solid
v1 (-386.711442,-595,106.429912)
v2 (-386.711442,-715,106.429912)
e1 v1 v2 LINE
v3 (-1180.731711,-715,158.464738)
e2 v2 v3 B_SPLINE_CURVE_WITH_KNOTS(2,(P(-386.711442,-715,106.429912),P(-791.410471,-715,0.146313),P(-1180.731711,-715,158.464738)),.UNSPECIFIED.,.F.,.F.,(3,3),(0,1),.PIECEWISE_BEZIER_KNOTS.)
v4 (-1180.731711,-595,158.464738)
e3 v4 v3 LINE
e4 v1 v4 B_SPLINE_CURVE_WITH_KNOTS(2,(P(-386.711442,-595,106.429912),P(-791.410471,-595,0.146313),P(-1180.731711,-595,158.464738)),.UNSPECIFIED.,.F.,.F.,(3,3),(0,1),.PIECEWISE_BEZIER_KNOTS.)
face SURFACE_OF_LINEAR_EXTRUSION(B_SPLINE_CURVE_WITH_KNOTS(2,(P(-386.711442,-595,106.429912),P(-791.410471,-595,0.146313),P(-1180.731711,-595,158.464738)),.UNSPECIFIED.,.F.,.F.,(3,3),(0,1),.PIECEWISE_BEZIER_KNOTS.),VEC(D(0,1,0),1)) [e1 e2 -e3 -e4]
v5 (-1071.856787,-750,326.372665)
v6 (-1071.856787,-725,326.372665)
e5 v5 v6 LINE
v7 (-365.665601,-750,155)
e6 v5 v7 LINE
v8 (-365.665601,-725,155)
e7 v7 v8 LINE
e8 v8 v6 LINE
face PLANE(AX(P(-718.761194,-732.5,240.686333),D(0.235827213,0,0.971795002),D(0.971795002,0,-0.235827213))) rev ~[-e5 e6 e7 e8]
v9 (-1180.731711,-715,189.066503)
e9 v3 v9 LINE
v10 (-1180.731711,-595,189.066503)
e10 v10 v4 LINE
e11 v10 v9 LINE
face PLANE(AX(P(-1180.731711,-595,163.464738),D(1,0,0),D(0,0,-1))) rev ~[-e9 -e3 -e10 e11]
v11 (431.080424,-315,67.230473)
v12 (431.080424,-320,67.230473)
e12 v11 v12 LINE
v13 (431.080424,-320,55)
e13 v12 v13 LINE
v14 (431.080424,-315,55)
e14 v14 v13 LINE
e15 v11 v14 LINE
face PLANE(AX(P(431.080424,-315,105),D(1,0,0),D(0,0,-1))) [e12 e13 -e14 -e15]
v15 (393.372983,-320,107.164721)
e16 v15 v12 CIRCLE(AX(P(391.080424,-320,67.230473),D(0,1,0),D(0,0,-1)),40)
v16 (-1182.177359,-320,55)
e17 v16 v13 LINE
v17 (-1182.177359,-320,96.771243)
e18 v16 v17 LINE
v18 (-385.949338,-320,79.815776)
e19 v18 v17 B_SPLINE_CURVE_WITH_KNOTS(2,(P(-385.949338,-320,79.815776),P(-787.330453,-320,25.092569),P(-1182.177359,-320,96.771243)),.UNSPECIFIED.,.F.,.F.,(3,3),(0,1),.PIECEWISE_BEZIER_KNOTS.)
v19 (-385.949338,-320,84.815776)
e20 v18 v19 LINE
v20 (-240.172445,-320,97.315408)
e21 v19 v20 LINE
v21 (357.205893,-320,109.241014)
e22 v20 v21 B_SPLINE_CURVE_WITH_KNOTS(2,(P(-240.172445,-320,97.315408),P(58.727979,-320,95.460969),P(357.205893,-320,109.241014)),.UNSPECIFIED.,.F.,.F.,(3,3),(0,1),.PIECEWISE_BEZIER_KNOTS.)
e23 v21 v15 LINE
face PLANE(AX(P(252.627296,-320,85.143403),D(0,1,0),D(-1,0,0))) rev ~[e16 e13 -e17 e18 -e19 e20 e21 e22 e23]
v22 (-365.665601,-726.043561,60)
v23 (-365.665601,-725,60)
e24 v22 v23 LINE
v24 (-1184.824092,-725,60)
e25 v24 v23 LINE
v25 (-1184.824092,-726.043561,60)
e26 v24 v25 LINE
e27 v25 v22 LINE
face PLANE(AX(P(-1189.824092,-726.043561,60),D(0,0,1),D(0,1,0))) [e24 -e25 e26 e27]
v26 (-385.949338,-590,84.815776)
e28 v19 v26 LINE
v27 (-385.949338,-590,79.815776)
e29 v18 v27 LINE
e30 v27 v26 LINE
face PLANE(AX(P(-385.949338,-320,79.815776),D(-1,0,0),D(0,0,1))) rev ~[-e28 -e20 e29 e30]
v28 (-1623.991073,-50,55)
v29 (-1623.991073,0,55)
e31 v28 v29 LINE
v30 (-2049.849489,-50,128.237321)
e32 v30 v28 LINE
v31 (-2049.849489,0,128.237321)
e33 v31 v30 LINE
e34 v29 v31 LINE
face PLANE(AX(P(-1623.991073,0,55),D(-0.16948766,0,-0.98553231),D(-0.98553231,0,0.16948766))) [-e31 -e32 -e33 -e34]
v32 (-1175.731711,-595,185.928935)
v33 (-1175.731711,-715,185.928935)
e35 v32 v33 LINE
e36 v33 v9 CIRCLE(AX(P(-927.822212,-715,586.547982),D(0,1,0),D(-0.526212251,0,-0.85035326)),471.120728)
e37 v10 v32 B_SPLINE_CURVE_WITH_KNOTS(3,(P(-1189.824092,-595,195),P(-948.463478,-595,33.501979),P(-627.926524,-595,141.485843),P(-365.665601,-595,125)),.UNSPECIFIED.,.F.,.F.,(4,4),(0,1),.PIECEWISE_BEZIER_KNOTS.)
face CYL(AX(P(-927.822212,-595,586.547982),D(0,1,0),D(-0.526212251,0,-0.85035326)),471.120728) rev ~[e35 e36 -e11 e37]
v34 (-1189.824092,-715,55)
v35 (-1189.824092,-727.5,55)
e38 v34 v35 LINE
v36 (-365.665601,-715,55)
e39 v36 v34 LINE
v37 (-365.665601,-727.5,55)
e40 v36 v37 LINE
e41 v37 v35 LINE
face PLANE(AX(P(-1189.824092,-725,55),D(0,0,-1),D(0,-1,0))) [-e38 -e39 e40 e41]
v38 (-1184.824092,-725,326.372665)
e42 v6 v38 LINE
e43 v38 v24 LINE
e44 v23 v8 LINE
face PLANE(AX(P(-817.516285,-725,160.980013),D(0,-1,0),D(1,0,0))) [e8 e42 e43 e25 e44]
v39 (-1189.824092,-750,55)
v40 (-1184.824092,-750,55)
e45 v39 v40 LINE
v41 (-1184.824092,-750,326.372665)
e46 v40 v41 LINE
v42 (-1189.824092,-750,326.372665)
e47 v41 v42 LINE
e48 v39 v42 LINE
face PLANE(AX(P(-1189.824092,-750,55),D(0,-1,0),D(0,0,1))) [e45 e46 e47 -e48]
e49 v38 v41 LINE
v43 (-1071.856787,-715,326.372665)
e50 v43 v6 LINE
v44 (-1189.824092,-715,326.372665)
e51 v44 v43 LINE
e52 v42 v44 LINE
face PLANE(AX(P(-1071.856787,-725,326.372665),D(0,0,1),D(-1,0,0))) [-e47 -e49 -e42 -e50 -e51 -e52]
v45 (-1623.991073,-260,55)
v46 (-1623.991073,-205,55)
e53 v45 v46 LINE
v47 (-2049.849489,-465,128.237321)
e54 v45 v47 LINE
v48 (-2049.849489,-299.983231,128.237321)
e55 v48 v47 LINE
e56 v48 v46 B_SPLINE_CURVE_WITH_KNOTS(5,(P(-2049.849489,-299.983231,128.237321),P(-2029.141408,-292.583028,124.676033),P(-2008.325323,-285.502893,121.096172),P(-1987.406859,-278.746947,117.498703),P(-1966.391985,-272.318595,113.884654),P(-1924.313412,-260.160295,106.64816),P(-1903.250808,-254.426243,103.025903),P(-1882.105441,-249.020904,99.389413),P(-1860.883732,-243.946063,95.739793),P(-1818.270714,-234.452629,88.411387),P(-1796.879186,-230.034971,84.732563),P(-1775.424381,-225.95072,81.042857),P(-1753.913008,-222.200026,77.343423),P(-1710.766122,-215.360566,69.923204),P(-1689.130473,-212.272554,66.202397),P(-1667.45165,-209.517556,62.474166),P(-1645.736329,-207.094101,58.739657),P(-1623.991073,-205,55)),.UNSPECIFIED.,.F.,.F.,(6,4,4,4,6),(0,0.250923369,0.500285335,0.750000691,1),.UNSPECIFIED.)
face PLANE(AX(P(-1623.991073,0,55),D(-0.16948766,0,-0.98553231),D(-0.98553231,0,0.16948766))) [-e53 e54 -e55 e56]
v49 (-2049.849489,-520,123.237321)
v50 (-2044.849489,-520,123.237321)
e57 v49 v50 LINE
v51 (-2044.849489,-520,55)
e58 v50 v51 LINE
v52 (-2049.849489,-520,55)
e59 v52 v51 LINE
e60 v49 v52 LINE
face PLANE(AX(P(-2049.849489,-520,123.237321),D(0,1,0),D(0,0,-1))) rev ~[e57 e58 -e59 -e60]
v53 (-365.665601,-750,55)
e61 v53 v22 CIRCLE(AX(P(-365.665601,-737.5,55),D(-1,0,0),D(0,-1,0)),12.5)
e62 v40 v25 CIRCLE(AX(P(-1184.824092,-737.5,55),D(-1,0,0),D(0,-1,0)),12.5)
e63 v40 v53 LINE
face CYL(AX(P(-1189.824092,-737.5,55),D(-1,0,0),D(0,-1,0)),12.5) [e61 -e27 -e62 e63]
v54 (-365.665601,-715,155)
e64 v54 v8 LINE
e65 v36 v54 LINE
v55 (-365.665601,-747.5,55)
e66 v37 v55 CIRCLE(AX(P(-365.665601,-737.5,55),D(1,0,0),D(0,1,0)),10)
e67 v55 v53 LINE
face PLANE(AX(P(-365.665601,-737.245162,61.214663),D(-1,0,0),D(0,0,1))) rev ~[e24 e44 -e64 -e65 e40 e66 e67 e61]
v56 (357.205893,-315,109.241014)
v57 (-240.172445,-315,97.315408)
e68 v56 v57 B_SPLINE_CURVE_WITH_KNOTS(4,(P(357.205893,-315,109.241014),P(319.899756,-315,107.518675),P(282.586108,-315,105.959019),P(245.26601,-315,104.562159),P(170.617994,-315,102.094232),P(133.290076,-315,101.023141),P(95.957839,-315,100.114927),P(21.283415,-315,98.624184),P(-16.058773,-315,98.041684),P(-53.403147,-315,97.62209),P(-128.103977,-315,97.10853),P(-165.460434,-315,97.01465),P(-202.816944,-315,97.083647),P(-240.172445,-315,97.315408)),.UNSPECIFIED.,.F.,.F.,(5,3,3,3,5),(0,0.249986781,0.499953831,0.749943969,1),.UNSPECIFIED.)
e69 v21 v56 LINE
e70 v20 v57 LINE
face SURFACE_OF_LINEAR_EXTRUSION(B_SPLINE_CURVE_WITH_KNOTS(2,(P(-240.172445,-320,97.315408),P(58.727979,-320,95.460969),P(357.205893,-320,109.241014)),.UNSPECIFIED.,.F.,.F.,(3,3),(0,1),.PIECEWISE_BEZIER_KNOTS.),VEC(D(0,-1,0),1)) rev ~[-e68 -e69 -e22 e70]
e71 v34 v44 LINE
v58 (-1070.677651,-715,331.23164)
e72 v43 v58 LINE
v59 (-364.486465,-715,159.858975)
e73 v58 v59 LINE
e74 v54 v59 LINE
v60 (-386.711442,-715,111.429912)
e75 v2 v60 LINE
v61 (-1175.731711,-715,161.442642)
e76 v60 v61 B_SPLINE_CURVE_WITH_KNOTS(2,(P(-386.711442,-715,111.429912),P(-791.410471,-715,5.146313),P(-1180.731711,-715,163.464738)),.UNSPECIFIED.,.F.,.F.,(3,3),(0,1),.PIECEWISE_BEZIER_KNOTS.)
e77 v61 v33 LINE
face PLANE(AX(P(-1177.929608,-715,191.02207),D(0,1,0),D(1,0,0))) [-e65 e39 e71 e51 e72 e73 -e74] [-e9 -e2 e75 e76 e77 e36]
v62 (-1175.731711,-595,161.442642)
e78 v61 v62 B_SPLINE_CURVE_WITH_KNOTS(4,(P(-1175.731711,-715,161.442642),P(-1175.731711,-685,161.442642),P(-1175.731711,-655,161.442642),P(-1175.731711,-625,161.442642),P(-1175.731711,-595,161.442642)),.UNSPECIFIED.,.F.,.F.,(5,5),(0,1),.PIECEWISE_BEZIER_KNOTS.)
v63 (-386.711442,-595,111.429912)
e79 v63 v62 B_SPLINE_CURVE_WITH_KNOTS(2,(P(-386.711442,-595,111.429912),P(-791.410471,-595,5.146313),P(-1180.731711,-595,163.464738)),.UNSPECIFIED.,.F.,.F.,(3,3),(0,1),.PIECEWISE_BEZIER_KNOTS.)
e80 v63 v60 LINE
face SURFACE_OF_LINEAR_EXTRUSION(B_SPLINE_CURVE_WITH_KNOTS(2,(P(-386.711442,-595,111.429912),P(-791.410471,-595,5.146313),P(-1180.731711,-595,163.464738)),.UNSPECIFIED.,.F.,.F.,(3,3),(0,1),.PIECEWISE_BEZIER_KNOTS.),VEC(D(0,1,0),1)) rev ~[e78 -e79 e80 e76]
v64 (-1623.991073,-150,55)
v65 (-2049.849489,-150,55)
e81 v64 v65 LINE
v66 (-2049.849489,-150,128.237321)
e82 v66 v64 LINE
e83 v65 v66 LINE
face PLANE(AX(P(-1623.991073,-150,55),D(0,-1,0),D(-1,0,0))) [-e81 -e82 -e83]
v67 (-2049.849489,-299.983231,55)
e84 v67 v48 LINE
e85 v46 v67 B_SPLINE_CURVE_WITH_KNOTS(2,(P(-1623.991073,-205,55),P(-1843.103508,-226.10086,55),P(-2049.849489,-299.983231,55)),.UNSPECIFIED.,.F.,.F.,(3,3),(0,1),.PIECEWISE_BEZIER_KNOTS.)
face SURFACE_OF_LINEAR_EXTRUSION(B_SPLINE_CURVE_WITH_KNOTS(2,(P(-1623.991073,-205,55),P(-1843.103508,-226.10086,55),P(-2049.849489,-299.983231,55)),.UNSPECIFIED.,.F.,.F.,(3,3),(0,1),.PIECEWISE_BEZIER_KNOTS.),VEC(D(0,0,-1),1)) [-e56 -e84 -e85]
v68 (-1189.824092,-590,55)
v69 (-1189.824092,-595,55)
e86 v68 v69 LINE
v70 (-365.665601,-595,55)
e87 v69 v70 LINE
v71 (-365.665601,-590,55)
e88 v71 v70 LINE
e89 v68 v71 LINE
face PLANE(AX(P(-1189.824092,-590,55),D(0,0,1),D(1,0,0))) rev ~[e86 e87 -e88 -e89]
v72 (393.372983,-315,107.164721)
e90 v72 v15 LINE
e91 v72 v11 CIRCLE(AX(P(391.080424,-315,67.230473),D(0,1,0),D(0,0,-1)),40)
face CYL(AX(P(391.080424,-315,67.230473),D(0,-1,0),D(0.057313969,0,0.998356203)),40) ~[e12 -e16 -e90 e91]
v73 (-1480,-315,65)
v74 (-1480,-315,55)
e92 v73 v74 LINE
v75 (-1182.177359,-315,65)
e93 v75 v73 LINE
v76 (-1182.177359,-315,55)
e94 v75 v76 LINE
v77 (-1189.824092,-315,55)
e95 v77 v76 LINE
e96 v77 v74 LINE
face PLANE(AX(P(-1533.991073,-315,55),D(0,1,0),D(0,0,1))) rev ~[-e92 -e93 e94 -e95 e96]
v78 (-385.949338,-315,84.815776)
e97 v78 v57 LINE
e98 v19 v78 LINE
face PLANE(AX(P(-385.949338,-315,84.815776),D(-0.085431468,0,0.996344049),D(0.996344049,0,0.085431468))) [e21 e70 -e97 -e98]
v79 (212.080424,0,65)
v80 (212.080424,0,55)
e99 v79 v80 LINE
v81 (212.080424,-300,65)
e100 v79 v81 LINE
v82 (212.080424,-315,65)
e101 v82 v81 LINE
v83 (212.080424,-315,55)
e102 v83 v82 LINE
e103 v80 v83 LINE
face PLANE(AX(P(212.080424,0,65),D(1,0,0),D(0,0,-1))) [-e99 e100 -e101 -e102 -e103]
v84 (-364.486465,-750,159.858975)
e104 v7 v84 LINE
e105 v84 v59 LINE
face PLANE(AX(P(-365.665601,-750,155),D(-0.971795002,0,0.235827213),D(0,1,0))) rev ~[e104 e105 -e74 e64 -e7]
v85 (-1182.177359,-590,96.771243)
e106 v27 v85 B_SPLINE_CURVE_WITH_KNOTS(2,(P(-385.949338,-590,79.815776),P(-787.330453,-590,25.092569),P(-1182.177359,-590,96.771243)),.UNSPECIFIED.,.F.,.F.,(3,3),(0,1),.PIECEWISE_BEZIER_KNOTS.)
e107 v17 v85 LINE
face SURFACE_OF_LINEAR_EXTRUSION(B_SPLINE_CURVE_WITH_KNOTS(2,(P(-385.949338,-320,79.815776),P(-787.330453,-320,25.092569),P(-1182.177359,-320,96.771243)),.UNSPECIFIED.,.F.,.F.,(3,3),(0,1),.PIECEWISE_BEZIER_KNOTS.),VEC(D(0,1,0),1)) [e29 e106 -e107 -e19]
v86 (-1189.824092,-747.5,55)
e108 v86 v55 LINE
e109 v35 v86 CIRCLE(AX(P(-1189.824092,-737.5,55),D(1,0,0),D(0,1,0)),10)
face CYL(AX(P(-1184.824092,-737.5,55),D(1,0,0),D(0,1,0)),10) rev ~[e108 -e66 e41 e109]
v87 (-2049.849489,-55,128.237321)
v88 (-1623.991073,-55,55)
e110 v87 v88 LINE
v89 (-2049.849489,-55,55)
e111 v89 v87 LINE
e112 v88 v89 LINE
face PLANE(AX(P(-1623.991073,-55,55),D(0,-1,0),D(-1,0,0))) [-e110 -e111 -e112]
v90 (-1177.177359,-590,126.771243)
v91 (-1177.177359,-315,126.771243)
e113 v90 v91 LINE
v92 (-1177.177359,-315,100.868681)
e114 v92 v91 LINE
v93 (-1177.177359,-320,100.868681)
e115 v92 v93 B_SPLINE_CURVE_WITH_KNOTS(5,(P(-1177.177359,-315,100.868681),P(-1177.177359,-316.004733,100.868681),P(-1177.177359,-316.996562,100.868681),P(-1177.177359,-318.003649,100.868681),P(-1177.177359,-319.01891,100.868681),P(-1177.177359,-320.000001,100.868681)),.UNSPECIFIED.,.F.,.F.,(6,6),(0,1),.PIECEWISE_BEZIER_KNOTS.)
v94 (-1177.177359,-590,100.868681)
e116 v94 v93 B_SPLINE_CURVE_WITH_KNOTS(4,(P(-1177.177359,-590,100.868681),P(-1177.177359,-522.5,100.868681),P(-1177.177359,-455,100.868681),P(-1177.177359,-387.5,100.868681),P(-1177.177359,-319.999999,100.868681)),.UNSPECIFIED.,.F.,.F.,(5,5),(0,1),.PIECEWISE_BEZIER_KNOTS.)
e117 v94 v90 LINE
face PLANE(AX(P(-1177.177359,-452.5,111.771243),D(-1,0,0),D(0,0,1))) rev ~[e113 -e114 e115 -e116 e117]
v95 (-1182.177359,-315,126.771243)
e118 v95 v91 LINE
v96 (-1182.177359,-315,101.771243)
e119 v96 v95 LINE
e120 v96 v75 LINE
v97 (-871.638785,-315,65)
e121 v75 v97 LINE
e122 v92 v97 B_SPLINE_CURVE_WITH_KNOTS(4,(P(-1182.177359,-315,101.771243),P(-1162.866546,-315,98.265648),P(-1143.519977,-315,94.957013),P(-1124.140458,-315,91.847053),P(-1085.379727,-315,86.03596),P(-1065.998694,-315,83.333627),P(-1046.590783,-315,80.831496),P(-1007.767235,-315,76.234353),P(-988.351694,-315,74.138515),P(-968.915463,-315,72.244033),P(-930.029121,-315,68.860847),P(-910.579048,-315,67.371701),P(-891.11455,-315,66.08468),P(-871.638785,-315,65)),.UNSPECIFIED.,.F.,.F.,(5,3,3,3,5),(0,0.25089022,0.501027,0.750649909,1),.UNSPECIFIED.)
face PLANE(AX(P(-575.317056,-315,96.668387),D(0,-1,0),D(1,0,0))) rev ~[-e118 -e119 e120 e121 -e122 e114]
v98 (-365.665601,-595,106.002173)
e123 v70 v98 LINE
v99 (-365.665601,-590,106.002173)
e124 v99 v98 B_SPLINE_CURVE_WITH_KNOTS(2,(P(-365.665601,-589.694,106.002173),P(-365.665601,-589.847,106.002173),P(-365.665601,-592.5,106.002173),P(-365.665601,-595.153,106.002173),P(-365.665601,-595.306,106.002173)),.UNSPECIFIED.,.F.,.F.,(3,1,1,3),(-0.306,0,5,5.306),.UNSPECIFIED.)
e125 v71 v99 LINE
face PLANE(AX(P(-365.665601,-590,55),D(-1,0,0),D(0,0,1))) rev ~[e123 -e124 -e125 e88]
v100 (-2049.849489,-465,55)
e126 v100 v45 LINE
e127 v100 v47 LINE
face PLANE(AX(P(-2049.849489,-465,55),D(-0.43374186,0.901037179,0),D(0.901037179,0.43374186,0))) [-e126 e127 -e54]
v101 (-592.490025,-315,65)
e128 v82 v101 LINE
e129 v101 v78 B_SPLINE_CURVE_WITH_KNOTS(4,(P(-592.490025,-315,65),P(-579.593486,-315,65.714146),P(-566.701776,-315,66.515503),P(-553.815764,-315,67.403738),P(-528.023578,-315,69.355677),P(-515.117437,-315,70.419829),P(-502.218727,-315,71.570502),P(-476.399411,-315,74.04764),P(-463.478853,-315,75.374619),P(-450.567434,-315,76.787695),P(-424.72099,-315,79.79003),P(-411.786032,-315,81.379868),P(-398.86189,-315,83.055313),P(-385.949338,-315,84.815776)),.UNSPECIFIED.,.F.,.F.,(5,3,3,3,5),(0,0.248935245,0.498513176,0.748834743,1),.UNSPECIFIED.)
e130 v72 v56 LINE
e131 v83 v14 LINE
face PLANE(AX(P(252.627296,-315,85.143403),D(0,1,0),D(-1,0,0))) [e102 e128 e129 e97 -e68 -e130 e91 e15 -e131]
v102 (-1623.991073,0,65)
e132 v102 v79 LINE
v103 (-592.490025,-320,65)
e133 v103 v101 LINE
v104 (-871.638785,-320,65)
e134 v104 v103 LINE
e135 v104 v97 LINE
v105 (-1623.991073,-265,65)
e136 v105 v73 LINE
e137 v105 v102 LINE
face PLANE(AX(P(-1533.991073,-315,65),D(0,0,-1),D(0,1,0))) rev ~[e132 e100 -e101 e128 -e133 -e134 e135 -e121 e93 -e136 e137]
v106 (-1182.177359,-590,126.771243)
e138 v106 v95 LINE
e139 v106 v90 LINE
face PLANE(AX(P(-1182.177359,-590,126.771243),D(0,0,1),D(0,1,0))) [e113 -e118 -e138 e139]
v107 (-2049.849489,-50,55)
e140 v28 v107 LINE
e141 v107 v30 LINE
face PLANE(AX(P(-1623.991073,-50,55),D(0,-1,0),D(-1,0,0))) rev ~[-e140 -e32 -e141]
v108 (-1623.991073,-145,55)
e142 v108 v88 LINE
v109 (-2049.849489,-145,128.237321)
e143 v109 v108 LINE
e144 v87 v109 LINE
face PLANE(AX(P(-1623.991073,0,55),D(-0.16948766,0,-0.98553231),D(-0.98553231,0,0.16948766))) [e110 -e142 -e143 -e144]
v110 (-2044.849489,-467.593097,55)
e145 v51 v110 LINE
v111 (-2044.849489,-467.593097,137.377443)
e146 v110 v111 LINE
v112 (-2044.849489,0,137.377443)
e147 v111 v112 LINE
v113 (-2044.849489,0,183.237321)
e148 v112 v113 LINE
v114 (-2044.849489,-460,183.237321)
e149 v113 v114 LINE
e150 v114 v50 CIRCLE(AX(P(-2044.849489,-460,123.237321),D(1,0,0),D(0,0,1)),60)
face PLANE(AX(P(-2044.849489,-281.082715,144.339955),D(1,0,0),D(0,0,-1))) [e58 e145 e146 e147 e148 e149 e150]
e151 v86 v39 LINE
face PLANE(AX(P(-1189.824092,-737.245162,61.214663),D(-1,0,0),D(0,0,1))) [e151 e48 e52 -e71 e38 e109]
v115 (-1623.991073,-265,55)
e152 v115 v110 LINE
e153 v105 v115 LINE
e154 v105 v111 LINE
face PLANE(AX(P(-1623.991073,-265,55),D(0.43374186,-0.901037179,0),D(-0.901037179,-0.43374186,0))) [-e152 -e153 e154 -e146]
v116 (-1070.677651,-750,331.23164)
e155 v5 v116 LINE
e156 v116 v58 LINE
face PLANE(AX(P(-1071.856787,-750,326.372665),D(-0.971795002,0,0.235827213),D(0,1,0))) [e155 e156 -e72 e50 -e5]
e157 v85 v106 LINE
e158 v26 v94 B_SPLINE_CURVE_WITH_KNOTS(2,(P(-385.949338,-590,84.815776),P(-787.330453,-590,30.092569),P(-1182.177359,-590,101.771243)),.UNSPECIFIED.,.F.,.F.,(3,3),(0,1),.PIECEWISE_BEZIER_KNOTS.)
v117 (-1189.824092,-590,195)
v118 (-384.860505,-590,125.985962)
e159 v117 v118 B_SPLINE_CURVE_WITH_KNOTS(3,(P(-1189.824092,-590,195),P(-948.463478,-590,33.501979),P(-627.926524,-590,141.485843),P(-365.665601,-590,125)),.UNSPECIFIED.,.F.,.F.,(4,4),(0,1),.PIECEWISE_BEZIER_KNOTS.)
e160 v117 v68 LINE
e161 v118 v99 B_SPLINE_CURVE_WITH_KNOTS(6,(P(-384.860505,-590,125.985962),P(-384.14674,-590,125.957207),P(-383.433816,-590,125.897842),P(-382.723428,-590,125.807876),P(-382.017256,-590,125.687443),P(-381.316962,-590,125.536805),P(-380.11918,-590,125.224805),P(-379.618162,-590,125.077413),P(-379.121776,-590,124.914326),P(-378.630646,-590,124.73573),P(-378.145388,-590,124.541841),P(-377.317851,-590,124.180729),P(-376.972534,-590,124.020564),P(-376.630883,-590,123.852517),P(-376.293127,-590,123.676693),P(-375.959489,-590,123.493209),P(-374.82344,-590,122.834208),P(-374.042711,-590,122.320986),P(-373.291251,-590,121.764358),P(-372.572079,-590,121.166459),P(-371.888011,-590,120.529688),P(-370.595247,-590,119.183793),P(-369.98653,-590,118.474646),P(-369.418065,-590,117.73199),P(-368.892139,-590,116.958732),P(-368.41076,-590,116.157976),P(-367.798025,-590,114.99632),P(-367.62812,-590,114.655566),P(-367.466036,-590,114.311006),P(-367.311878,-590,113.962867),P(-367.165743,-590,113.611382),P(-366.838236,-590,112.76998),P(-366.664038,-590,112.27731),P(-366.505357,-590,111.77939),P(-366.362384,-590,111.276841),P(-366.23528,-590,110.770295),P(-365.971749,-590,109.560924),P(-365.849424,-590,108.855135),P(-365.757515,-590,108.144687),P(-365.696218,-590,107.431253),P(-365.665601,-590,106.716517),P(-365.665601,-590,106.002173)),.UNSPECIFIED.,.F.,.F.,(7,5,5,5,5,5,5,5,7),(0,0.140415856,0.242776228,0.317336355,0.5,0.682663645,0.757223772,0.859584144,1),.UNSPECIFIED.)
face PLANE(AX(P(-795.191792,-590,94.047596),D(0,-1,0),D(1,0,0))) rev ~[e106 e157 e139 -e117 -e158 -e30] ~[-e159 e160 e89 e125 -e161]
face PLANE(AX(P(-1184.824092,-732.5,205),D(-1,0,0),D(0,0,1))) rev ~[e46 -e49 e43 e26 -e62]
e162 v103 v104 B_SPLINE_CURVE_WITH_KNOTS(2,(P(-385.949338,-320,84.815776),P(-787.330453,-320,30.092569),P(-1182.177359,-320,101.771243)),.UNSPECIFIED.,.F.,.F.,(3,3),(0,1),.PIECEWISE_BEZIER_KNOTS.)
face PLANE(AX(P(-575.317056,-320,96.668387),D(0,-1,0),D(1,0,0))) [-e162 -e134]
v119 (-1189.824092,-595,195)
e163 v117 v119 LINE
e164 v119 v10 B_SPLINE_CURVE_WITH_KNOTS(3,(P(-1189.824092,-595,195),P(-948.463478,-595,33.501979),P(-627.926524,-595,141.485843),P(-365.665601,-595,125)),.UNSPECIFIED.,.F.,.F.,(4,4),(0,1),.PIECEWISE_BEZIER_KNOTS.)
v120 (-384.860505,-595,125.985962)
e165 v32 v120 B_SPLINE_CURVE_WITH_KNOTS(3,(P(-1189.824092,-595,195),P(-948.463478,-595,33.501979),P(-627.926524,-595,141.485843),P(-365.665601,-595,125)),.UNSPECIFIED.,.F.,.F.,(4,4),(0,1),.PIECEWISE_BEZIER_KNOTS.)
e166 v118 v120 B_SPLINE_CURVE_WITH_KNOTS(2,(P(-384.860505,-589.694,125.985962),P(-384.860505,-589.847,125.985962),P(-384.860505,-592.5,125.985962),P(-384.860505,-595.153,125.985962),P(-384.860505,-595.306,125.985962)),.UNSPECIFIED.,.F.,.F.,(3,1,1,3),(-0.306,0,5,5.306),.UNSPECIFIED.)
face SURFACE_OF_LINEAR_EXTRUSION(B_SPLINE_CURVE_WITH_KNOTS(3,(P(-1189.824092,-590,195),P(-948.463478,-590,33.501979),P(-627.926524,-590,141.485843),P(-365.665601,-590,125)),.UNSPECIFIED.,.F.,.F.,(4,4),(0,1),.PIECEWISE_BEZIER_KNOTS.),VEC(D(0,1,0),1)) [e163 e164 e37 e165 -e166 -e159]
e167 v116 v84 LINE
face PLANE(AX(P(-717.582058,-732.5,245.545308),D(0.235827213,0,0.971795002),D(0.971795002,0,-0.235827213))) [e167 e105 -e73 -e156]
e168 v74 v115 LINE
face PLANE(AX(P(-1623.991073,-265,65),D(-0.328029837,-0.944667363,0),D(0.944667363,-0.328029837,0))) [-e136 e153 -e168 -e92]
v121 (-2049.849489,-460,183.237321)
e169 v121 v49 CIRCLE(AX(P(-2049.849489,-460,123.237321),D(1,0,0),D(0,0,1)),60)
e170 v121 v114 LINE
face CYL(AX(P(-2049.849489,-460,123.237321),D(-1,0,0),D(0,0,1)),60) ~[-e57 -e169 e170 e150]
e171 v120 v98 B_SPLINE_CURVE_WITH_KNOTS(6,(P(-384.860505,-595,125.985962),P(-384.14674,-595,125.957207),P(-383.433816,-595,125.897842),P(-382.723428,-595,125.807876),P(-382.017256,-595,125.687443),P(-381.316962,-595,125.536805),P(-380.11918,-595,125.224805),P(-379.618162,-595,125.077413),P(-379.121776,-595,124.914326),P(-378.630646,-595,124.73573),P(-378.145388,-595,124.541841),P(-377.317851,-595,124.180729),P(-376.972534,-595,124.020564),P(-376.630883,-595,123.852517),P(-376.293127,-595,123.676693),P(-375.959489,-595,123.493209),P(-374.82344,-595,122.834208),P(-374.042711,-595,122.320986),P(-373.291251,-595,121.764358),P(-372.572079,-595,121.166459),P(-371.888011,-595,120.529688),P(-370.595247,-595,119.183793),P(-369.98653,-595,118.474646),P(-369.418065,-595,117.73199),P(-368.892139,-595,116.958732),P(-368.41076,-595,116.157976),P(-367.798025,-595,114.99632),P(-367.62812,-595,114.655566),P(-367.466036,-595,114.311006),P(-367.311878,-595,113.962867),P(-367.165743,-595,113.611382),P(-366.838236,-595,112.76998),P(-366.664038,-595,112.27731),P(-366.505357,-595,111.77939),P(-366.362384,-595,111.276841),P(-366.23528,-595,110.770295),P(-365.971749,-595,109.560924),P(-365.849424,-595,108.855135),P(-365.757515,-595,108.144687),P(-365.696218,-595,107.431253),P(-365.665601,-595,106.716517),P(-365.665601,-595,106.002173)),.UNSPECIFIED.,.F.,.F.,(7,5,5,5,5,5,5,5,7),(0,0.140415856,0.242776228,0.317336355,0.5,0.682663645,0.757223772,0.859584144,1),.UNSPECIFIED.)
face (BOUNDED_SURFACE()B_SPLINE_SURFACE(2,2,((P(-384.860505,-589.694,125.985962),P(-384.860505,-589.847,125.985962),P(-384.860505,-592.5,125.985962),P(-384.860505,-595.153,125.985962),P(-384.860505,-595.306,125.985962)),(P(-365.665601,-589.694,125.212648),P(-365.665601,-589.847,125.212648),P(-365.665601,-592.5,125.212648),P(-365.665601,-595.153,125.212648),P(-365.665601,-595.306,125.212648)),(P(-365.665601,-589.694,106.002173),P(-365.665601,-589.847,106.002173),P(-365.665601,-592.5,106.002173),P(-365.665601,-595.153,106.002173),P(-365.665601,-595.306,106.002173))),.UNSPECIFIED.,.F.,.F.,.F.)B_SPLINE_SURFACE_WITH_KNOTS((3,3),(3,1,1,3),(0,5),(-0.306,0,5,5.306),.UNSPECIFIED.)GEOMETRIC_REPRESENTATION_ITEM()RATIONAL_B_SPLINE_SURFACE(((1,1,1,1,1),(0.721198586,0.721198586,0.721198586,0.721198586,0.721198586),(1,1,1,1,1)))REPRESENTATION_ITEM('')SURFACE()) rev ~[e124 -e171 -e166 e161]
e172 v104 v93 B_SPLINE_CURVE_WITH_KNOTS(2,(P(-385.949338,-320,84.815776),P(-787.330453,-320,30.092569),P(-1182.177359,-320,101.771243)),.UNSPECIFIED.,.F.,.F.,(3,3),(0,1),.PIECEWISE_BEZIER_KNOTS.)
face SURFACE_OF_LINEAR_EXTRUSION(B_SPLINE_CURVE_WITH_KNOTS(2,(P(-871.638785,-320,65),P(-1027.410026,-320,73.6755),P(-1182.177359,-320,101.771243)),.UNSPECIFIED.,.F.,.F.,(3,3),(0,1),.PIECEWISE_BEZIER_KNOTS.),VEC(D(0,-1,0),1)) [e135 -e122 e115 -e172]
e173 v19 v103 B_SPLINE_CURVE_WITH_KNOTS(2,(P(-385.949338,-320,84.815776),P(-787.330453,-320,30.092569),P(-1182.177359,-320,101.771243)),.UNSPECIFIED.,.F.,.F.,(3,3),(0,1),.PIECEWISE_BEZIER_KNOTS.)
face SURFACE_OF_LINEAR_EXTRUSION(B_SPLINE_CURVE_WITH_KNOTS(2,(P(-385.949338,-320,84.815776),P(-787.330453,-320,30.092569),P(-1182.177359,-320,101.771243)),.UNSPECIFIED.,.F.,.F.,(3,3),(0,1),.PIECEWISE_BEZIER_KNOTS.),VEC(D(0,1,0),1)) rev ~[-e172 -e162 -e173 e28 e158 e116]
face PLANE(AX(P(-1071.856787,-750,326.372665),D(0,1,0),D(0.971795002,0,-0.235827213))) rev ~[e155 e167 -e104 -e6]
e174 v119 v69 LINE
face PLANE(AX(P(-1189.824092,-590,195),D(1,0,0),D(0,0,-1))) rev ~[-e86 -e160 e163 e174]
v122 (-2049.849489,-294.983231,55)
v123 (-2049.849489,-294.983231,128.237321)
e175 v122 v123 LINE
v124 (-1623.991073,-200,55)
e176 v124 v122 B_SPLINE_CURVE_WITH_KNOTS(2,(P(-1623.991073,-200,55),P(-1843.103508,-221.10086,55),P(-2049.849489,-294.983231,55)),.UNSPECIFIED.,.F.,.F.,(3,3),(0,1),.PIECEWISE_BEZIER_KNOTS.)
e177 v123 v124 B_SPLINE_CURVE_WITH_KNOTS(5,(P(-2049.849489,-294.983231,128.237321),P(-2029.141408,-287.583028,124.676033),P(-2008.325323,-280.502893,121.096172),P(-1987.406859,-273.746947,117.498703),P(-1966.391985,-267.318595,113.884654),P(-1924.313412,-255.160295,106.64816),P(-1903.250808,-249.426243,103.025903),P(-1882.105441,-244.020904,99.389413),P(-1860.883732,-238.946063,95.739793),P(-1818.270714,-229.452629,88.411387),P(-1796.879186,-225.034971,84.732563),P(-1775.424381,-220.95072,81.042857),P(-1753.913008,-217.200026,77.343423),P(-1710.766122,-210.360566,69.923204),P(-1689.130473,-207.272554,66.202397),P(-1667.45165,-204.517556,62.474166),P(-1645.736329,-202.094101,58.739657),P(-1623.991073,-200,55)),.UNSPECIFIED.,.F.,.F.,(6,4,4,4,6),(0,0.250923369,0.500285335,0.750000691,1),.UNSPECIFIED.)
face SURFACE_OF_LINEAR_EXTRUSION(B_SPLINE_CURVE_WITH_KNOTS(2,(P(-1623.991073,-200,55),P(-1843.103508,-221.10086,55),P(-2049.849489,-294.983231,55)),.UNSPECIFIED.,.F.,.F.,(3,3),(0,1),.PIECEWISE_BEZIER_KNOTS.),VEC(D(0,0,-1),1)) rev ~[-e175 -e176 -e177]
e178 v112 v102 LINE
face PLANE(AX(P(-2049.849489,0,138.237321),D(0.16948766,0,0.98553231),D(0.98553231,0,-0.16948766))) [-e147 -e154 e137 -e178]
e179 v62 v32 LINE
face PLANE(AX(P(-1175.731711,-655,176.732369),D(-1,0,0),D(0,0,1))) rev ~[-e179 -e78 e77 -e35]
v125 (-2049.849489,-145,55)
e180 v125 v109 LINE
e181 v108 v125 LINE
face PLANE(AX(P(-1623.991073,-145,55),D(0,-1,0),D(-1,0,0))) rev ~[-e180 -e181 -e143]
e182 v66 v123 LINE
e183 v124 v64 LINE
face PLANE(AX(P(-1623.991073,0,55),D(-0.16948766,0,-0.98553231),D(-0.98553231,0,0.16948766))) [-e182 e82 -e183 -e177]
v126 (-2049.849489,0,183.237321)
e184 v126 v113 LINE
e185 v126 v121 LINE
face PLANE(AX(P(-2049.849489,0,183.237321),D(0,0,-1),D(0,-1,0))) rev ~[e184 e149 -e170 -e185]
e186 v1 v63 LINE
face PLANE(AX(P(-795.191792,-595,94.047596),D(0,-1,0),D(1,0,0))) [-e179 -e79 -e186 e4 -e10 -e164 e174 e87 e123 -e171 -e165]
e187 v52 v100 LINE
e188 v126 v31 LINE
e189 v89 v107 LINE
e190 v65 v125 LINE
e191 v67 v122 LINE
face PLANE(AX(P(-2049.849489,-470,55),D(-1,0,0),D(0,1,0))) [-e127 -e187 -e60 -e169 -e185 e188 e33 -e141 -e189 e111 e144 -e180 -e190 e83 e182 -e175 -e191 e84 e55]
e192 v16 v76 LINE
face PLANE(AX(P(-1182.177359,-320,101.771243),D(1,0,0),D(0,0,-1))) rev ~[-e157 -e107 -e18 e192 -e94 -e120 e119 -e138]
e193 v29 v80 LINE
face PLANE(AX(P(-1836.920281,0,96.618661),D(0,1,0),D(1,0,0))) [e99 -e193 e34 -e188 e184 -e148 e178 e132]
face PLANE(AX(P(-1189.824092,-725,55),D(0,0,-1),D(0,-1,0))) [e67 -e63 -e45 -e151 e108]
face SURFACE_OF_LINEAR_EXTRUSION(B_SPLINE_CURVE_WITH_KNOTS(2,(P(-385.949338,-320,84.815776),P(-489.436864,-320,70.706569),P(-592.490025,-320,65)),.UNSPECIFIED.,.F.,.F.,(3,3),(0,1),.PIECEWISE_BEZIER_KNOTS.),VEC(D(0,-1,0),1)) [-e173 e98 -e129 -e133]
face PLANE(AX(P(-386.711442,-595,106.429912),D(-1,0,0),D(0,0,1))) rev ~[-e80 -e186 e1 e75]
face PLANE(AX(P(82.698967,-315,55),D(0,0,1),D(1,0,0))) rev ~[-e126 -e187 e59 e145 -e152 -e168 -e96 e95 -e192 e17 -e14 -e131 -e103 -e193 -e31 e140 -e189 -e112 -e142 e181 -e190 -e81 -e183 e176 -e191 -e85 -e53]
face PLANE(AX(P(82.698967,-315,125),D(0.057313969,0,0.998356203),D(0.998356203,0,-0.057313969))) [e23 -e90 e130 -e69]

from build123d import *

# Parameters (mm, degrees)
SZKIC1_W                     = 1841.580423823
SZKIC1_H                     = 10
DODANIE_WYCI_GNI_CIE1_DEPTH  = 315
DODANIE_WYCI_GNI_CIE2_DEPTH  = 5
DODANIE_WYCI_GNI_CIE4_DEPTH  = 270
DODANIE_WYCI_GNI_CIE5_DEPTH  = 5
DODANIE_WYCI_GNI_CIE6_DEPTH  = 120
DODANIE_WYCI_GNI_CIE7_DEPTH  = 10
DODANIE_WYCI_GNI_CIE8_DEPTH  = 824.158490967
WYTNIJ_WYCI_GNI_CIE3_DEPTH   = 800
WYTNIJ_WYCI_GNI_CIE4_DEPTH   = 800
WYTNIJ_WYCI_GNI_CIE6_DEPTH   = 800
WYTNIJ_WYCI_GNI_CIE7_DEPTH   = 800
DODANIE_WYCI_GNI_CIE15_REACH = 1830.605
WYTNIJ_WYCI_GNI_CIE8_DEPTH   = 40
SZKIC26_W                    = 726.687402781
SZKIC26_H                    = 35
DODANIE_WYCI_GNI_CIE16_DEPTH = 5
SZKIC10_W                    = 300
SZKIC10_H                    = 35
DODANIE_WYCI_GNI_CIE19_DEPTH = 5
WYTNIJ_WYCI_GNI_CIE10_DEPTH  = 10
WYTNIJ_WYCI_GNI_CIE11_DEPTH  = 35
WYTNIJ_WYCI_GNI_CIE13_DEPTH  = 70
SZKIC30_W                    = 16.697561016
SZKIC30_H                    = 21.994192029
WYTNIJ_WYCI_GNI_CIE14_DEPTH  = 70
DODANIE_WYCI_GNI_CIE20_DEPTH = 5
WYTNIJ_WYCI_GNI_CIE15_DEPTH  = 5
ZAOKR_GLENIE2_R              = 20
SZKIC33_W                    = 30
SZKIC33_H                    = 275
DODANIE_WYCI_GNI_CIE21_DEPTH = 5
SZKIC34_W                    = 36.535261538
SZKIC34_H                    = 120
DODANIE_WYCI_GNI_CIE22_DEPTH = 5
WYTNIJ_WYCI_GNI_CIE16_DEPTH  = 1825.139427117
SZKIC36_W                    = 10
SZKIC36_H                    = 315
DODANIE_WYCI_GNI_CIE23_DEPTH = 90
WYTNIJ_WYCI_GNI_CIE17_DEPTH  = 15
DODANIE_WYCI_GNI_CIE24_DEPTH = 470
WYTNIJ_WYCI_GNI_CIE18_DEPTH  = 235
DODANIE_WYCI_GNI_CIE25_REACH = 2202.156
DODANIE_WYCI_GNI_CIE26_REACH = 2202.156
SZKIC42_W                    = 425.858416348
SZKIC42_H                    = 5
WYTNIJ_WYCI_GNI_CIE20_REACH  = 2202.156
DODANIE_WYCI_GNI_CIE28_DEPTH = 5
SZKIC47_W                    = 59.404380421
SZKIC47_H                    = 10
DODANIE_WYCI_GNI_CIE29_DEPTH = 20
DODANIE_WYCI_GNI_CIE30_DEPTH = 5
WYTNIJ_WYCI_GNI_CIE21_DEPTH  = 5
ZAOKR_GLENIE3_R              = 40
WYTNIJ_WYCI_GNI_CIE22_DEPTH  = 10
WYTNIJ_WYCI_GNI_CIE23_DEPTH  = 120


with BuildPart() as part:
    # Szkic1 → Dodanie-wyciągnięcie1 (new body)
    with BuildSketch(Plane(origin=(0, 0, 0), x_dir=(1, 0, 0), z_dir=(0, 1, 0))):
        with Locations((-708.709788088, -60)):
            Rectangle(SZKIC1_W, SZKIC1_H)
    extrude(amount=-DODANIE_WYCI_GNI_CIE1_DEPTH)

    # Szkic2 → Dodanie-wyciągnięcie2 (add)
    with BuildSketch(Plane.XZ.offset(315)):
        with BuildLine():
            Line((-1189.824091864, 55), (82.698967418, 55))
            Line((82.698967418, 55), (82.698967418, 125))
            add(Edge.make_bspline(
                [(82.698967418, 125), (-575.048967354, 24.979688265), (-1189.824091864, 215)],
                knots=[0, 0, 0, 1, 1, 1], degree=2))
            Line((-1189.824091864, 215), (-1189.824091864, 55))
        make_face()
    extrude(amount=DODANIE_WYCI_GNI_CIE2_DEPTH)

    # Szkic4 → Dodanie-wyciągnięcie4 (add)
    with BuildSketch(Plane.XZ.offset(320)):
        with BuildLine():
            Line((-1182.177359348, 101.771243176), (-1182.177359348, 96.771243176))
            add(Edge.make_bspline(
                [(-385.949338397, 79.815775507), (-787.330452668, 25.09256948), (-1182.177359348, 96.771243176)],
                knots=[0, 0, 0, 1, 1, 1], degree=2))
            Line((-385.949338397, 79.815775507), (-385.949338397, 84.815775507))
            add(Edge.make_bspline(
                [(-385.949338397, 84.815775507), (-787.330452668, 30.09256948), (-1182.177359348, 101.771243176)],
                knots=[0, 0, 0, 1, 1, 1], degree=2))
        make_face()
    extrude(amount=DODANIE_WYCI_GNI_CIE4_DEPTH)

    # Szkic5 → Dodanie-wyciągnięcie5 (add)
    with BuildSketch(Plane.XZ.offset(590)):
        with BuildLine():
            Line((-1189.824091794, 195), (-1189.824091794, 55))
            Line((-1189.824091794, 55), (-365.665600827, 55))
            Line((-365.665600827, 55), (-365.665600827, 125))
            add(Edge.make_bspline(
                [(-1189.824091794, 195), (-948.463478374, 33.501978751), (-627.926523689, 141.485843373), (-365.665600827, 125)],
                knots=[0, 0, 0, 0, 1, 1, 1, 1], degree=3))
        make_face()
    extrude(amount=DODANIE_WYCI_GNI_CIE5_DEPTH)

    # Szkic6 → Dodanie-wyciągnięcie6 (add)
    with BuildSketch(Plane.XZ.offset(595)):
        with BuildLine():
            Line((-1180.731710733, 163.464738462), (-1180.731710733, 158.464738462))
            add(Edge.make_bspline(
                [(-386.71144151, 106.429912395), (-791.410470683, 0.146312653), (-1180.731710733, 158.464738462)],
                knots=[0, 0, 0, 1, 1, 1], degree=2))
            Line((-386.71144151, 106.429912395), (-386.71144151, 111.429912395))
            add(Edge.make_bspline(
                [(-386.71144151, 111.429912395), (-791.410470683, 5.146312653), (-1180.731710733, 163.464738462)],
                knots=[0, 0, 0, 1, 1, 1], degree=2))
        make_face()
    extrude(amount=DODANIE_WYCI_GNI_CIE6_DEPTH)

    # Szkic7 → Dodanie-wyciągnięcie7 (add)
    with BuildSketch(Plane.XZ.offset(715)):
        Polygon((-1189.824091794, 55), (-365.665600827, 55), (-365.665600827, 155), (-1189.824091794, 355), align=None)
    extrude(amount=DODANIE_WYCI_GNI_CIE7_DEPTH)

    # Szkic9 → Dodanie-wyciągnięcie8 (add)
    with BuildSketch(Plane.ZY.offset(1189.824091794)):
        with BuildLine():
            Line((55, -725), (55, -727.5))
            ThreePointArc((55, -727.5), (65, -737.5), (55, -747.5))
            Line((55, -747.5), (55, -750))
            ThreePointArc((55, -750), (67.236328912, -740.053870546), (60, -726.043560763))
            Line((60, -726.043560763), (60, -725))
            Line((60, -725), (55, -725))
        make_face()
    extrude(amount=-DODANIE_WYCI_GNI_CIE8_DEPTH)

    # Szkic14 → Wytnij-wyciągnięcie3 (cut)
    with BuildSketch(Plane(origin=(0, -315, 0), x_dir=(-1, 0, 0), z_dir=(0, -1, 0))):
        Polygon((-212.080423823, -60), (-152.676043402, -65), (-157.068738745, -100.12092383), (-228.037209254, -94.147587352), align=None)
    extrude(amount=-WYTNIJ_WYCI_GNI_CIE3_DEPTH, mode=Mode.SUBTRACT)

    # Szkic15 → Wytnij-wyciągnięcie4 (cut)
    with BuildSketch(Plane.XZ.offset(315)):
        Polygon((-1629.5, 60), (-1533.991072744, 65), (-1548.721576055, 115.377348391), (-1654.554576766, 99.51372944), align=None)
    extrude(amount=-WYTNIJ_WYCI_GNI_CIE4_DEPTH, mode=Mode.SUBTRACT)

    # Szkic17 → Wytnij-wyciągnięcie6 (cut)
    with BuildSketch(Plane.XY):
        Polygon((212.080423823, -300), (152.676043402, -315), (126.143267326, -456.893573372), (421.986335713, -502.224366108), align=None)
    extrude(amount=WYTNIJ_WYCI_GNI_CIE6_DEPTH, mode=Mode.SUBTRACT)

    # Szkic18 → Wytnij-wyciągnięcie7 (cut)
    with BuildSketch(Plane.XY):
        Polygon((-1629.5, -300), (-1533.991072744, -315), (-1533.991072744, -431.408469581), (-1704.18755073, -396.775994669), align=None)
    extrude(amount=WYTNIJ_WYCI_GNI_CIE7_DEPTH, mode=Mode.SUBTRACT)

    # Dodanie-wyciągnięcie15: up to this face of the body (flat: up to its plane)
    dodanie_wyci_gni_cie15_end = Plane(part.part.faces().sort_by_distance((179.077990255, -308.333333333, 58.888888889))[0])
    # Szkic24 → Dodanie-wyciągnięcie15 (add, up to the picked face)
    with BuildSketch(Plane(origin=(0, 0, 0), x_dir=(1, 0, 0), z_dir=(0, 1, 0)), mode=Mode.PRIVATE) as dodanie_wyci_gni_cie15_sk1:
        Polygon((212.080423823, -60), (152.676043402, -65), (212.080423823, -65), align=None)
    dodanie_wyci_gni_cie15_tool1 = split(extrude(dodanie_wyci_gni_cie15_sk1.sketch, amount=-DODANIE_WYCI_GNI_CIE15_REACH, mode=Mode.PRIVATE), bisect_by=dodanie_wyci_gni_cie15_end, keep=Keep.BOTH, mode=Mode.PRIVATE)
    add(dodanie_wyci_gni_cie15_tool1.solids().sort_by(Axis((192.278964, 0, 63.333333), (0, -1, 0)))[0])

    # Szkic25 → Wytnij-wyciągnięcie8 (cut, symmetric)
    with BuildSketch(Plane.XZ.offset(725)):
        Polygon((-1071.856786677, 326.372665231), (-1189.824091794, 326.372665231), (-1281.285885853, 396.255102667), (-1102.826584063, 410.27690495), align=None)
    extrude(amount=WYTNIJ_WYCI_GNI_CIE8_DEPTH, both=True, mode=Mode.SUBTRACT)

    # Szkic26 → Dodanie-wyciągnięcie16 (add)
    with BuildSketch(Plane(origin=(15.185934362, 0, 62.578083739), x_dir=(0.9717950017399135, 0, -0.23582721342822507), z_dir=(0.23582721342822507, 0, 0.9717950017399135))):
        with Locations((-755.248922664, -732.5)):
            Rectangle(SZKIC26_W, SZKIC26_H)
    extrude(amount=DODANIE_WYCI_GNI_CIE16_DEPTH)

    # Szkic10 → Dodanie-wyciągnięcie19 (add)
    with BuildSketch(Plane.ZY.offset(1189.824091794)):
        with Locations((205, -732.5)):
            Rectangle(SZKIC10_W, SZKIC10_H)
    extrude(amount=-DODANIE_WYCI_GNI_CIE19_DEPTH)

    # Szkic27 → Wytnij-wyciągnięcie10 (cut)
    with BuildSketch(Plane(origin=(-1184.824091794, 0, 0), x_dir=(0, 0, -1), z_dir=(1, 0, 0))):
        with BuildLine():
            Line((-55, -747.5), (-38.951461032, -762.248984803))
            Line((-38.951461032, -762.248984803), (-37.343567768, -710.656236911))
            Line((-37.343567768, -710.656236911), (-55, -727.5))
            ThreePointArc((-55, -727.5), (-65, -737.5), (-55, -747.5))
        make_face()
    extrude(amount=-WYTNIJ_WYCI_GNI_CIE10_DEPTH, mode=Mode.SUBTRACT)

    # Szkic28 → Wytnij-wyciągnięcie11 (cut, symmetric)
    with BuildSketch(Plane.XZ.offset(725)):
        Polygon((-1184.824091794, 326.372665231), (-1217.650135451, 326.372665231), (-1219.406429923, 378.737546141), (-1162.034143854, 378.737546141), align=None)
    extrude(amount=WYTNIJ_WYCI_GNI_CIE11_DEPTH, both=True, mode=Mode.SUBTRACT)

    # Szkic29 → Wytnij-wyciągnięcie13 (cut)
    with BuildSketch(Plane.XZ.offset(320)):
        with BuildLine():
            Line((-385.949338397, 84.815775507), (-385.949338397, 334.407178537))
            Line((-385.949338397, 334.407178537), (-1182.177359348, 473.468106308))
            Line((-1182.177359348, 473.468106308), (-1313.585801573, 196.645885604))
            Line((-1313.585801573, 196.645885604), (-1213.513918971, 101.771243176))
            Line((-1213.513918971, 101.771243176), (-1182.177359348, 101.771243176))
            add(Edge.make_bspline(
                [(-871.63878498, 65), (-1027.410026315, 73.675500305), (-1182.177359348, 101.771243176)],
                knots=[0, 0, 0, 1, 1, 1], degree=2))
            Line((-871.63878498, 65), (-592.490024907, 65))
            add(Edge.make_bspline(
                [(-385.949338397, 84.815775507), (-489.436864274, 70.706568575), (-592.490024907, 65)],
                knots=[0, 0, 0, 1, 1, 1], degree=2))
        make_face()
    extrude(amount=-WYTNIJ_WYCI_GNI_CIE13_DEPTH, mode=Mode.SUBTRACT)

    # Szkic30 → Wytnij-wyciągnięcie14 (cut)
    with BuildSketch(Plane.XY.offset(101.771243176)):
        with Locations((-1190.526139856, -325.997096015)):
            Rectangle(SZKIC30_W, SZKIC30_H)
    extrude(amount=-WYTNIJ_WYCI_GNI_CIE14_DEPTH, mode=Mode.SUBTRACT)

    # Szkic31 → Dodanie-wyciągnięcie20 (add)
    with BuildSketch(Plane.XZ.offset(320)):
        Polygon((82.698967418, 125), (-385.949338397, 90.579084574), (-211.590498137, 70.301208148), (82.698967418, 100.951939948), align=None)
    extrude(amount=-DODANIE_WYCI_GNI_CIE20_DEPTH)

    # Szkic32 → Wytnij-wyciągnięcie15 (cut)
    with BuildSketch(Plane(origin=(0, -315, 0), x_dir=(1, 0, 0), z_dir=(0, 1, 0))):
        Polygon((-385.949338397, -84.815775507), (82.698967418, -125), (43.251165214, -321.645953954), (-385.949338397, -284.844179199), align=None)
    extrude(amount=-WYTNIJ_WYCI_GNI_CIE15_DEPTH, mode=Mode.SUBTRACT)

    # Zaokrąglenie2
    zaokr_glenie2_edges = [part.edges().sort_by_distance(p)[0] for p in [
        (-365.665600827, -592.5, 125),
    ]]
    fillet(zaokr_glenie2_edges, radius=ZAOKR_GLENIE2_R)

    # Szkic33 → Dodanie-wyciągnięcie21 (add)
    with BuildSketch(Plane.ZY.offset(1182.177359348)):
        with Locations((111.771243176, -452.5)):
            Rectangle(SZKIC33_W, SZKIC33_H)
    extrude(amount=-DODANIE_WYCI_GNI_CIE21_DEPTH)

    # Szkic34 → Dodanie-wyciągnięcie22 (add)
    with BuildSketch(Plane.ZY.offset(1180.731710733)):
        with Locations((176.732369231, -655)):
            Rectangle(SZKIC34_W, SZKIC34_H)
    extrude(amount=-DODANIE_WYCI_GNI_CIE22_DEPTH)

    # Szkic35 → Wytnij-wyciągnięcie16 (cut, through all)
    with BuildSketch(Plane(origin=(0, 0, 0), x_dir=(1, 0, 0), z_dir=(0, 1, 0))):
        Polygon((-1533.991072744, -65), (-1533.991072744, -13.036157564), (-1638.767665128, -13.036157564), (-1638.767665128, -80.773392513), (-1533.991072744, -80.773392513), align=None)
    extrude(amount=-WYTNIJ_WYCI_GNI_CIE16_DEPTH, mode=Mode.SUBTRACT)

    # Szkic36 → Dodanie-wyciągnięcie23 (add)
    with BuildSketch(Plane.ZY.offset(1533.991072744)):
        with Locations((60, -157.5)):
            Rectangle(SZKIC36_W, SZKIC36_H)
    extrude(amount=DODANIE_WYCI_GNI_CIE23_DEPTH)

    # Szkic37 → Wytnij-wyciągnięcie17 (cut)
    with BuildSketch(Plane.XY.offset(65)):
        Polygon((-1623.991072744, -265), (-1480, -315), (-1582.155270027, -427.098221847), (-1743.661021139, -471.749811861), (-1686.658991335, -216.190711572), align=None)
    extrude(amount=-WYTNIJ_WYCI_GNI_CIE17_DEPTH, mode=Mode.SUBTRACT)

    # Szkic38 → Dodanie-wyciągnięcie24 (add)
    with BuildSketch(Plane(origin=(0, 0, 0), x_dir=(1, 0, 0), z_dir=(0, 1, 0))):
        Polygon((-1623.991072744, -65), (-1623.991072744, -55), (-2049.849489092, -128.23732135), (-2049.849489092, -138.23732135), align=None)
    extrude(amount=-DODANIE_WYCI_GNI_CIE24_DEPTH)

    # Szkic39 → Wytnij-wyciągnięcie18 (cut, symmetric)
    with BuildSketch(Plane.XY.offset(65)):
        Polygon((-1623.991072744, -265), (-2049.849489092, -470), (-2049.849489092, -632.364405532), (-1604.615661805, -507.9476393), align=None)
    extrude(amount=WYTNIJ_WYCI_GNI_CIE18_DEPTH, both=True, mode=Mode.SUBTRACT)

    # Dodanie-wyciągnięcie25: up to this face of the body (flat: up to its plane)
    dodanie_wyci_gni_cie25_end = Plane(part.part.faces().sort_by_distance((-1856.716420453, -188.514739229, 95.023116656))[0])
    # Szkic40 → Dodanie-wyciągnięcie25 (add, up to the picked face)
    with BuildSketch(Plane(origin=(0, 0, 55), x_dir=(-1, 0, 0), z_dir=(0, 0, -1)), mode=Mode.PRIVATE) as dodanie_wyci_gni_cie25_sk1:
        Polygon((1623.991072744, -265), (2049.849489092, -470), (2049.849489092, -465), (1623.991072744, -260), align=None)
    dodanie_wyci_gni_cie25_tool1 = split(extrude(dodanie_wyci_gni_cie25_sk1.sketch, amount=-DODANIE_WYCI_GNI_CIE25_REACH, mode=Mode.PRIVATE), bisect_by=dodanie_wyci_gni_cie25_end, keep=Keep.BOTH, mode=Mode.PRIVATE)
    add(dodanie_wyci_gni_cie25_tool1.solids().sort_by(Axis((-1836.920281, -365, 55), (0, 0, 1)))[0])

    # Dodanie-wyciągnięcie26: up to this face of the body (flat: up to its plane)
    dodanie_wyci_gni_cie26_end = Plane(part.part.faces().sort_by_distance((-1856.989470654, -186.08045977, 95.07007467))[0])
    # Szkic42 → Dodanie-wyciągnięcie26 (add, up to the picked face)
    with BuildSketch(Plane(origin=(0, 0, 55), x_dir=(-1, 0, 0), z_dir=(0, 0, -1)), mode=Mode.PRIVATE) as dodanie_wyci_gni_cie26_sk1:
        with BuildLine():
            Line((1623.991072744, -244.355149627), (1623.991072744, -239.355149627))
            add(Edge.make_bspline(
                [(2049.849489092, -401.340406152), (1855.427484027, -273.909465931), (1623.991072744, -239.355149627)],
                knots=[0, 0, 0, 1, 1, 1], degree=2))
            Line((2049.849489092, -401.340406152), (2049.849489092, -406.340406152))
            add(Edge.make_bspline(
                [(1623.991072744, -244.355149627), (1855.427484027, -278.909465931), (2049.849489092, -406.340406152)],
                knots=[0, 0, 0, 1, 1, 1], degree=2))
        make_face()
    dodanie_wyci_gni_cie26_tool1 = split(extrude(dodanie_wyci_gni_cie26_sk1.sketch, amount=-DODANIE_WYCI_GNI_CIE26_REACH, mode=Mode.PRIVATE), bisect_by=dodanie_wyci_gni_cie26_end, keep=Keep.BOTH, mode=Mode.PRIVATE)
    # Szkic42 → Dodanie-wyciągnięcie26 (add, up to the picked face)
    with BuildSketch(Plane(origin=(0, 0, 55), x_dir=(-1, 0, 0), z_dir=(0, 0, -1)), mode=Mode.PRIVATE) as dodanie_wyci_gni_cie26_sk2:
        with BuildLine():
            Line((1623.991072744, -200), (1623.991072744, -205))
            add(Edge.make_bspline(
                [(1623.991072744, -205), (1843.10350801, -226.100859593), (2049.849489092, -299.983230738)],
                knots=[0, 0, 0, 1, 1, 1], degree=2))
            Line((2049.849489092, -299.983230738), (2049.849489092, -294.983230738))
            add(Edge.make_bspline(
                [(1623.991072744, -200), (1843.10350801, -221.100859593), (2049.849489092, -294.983230738)],
                knots=[0, 0, 0, 1, 1, 1], degree=2))
        make_face()
    dodanie_wyci_gni_cie26_tool2 = split(extrude(dodanie_wyci_gni_cie26_sk2.sketch, amount=-DODANIE_WYCI_GNI_CIE26_REACH, mode=Mode.PRIVATE), bisect_by=dodanie_wyci_gni_cie26_end, keep=Keep.BOTH, mode=Mode.PRIVATE)
    # Szkic42 → Dodanie-wyciągnięcie26 (add, up to the picked face)
    with BuildSketch(Plane(origin=(0, 0, 55), x_dir=(-1, 0, 0), z_dir=(0, 0, -1)), mode=Mode.PRIVATE) as dodanie_wyci_gni_cie26_sk3:
        with Locations((1836.920280918, -52.5)):
            Rectangle(SZKIC42_W, SZKIC42_H)
    dodanie_wyci_gni_cie26_tool3 = split(extrude(dodanie_wyci_gni_cie26_sk3.sketch, amount=-DODANIE_WYCI_GNI_CIE26_REACH, mode=Mode.PRIVATE), bisect_by=dodanie_wyci_gni_cie26_end, keep=Keep.BOTH, mode=Mode.PRIVATE)
    # Szkic42 → Dodanie-wyciągnięcie26 (add, up to the picked face)
    with BuildSketch(Plane(origin=(0, 0, 55), x_dir=(-1, 0, 0), z_dir=(0, 0, -1)), mode=Mode.PRIVATE) as dodanie_wyci_gni_cie26_sk4:
        with Locations((1836.920280918, -147.5)):
            Rectangle(SZKIC42_W, SZKIC42_H)
    dodanie_wyci_gni_cie26_tool4 = split(extrude(dodanie_wyci_gni_cie26_sk4.sketch, amount=-DODANIE_WYCI_GNI_CIE26_REACH, mode=Mode.PRIVATE), bisect_by=dodanie_wyci_gni_cie26_end, keep=Keep.BOTH, mode=Mode.PRIVATE)
    add(dodanie_wyci_gni_cie26_tool1.solids().sort_by(Axis((-1628.565343, -241.85515, 55), (0, 0, 1)))[0])
    add(dodanie_wyci_gni_cie26_tool2.solids().sort_by(Axis((-1628.365453, -202.5, 55), (0, 0, 1)))[0])
    add(dodanie_wyci_gni_cie26_tool3.solids().sort_by(Axis((-1836.920281, -52.5, 55), (0, 0, 1)))[0])
    add(dodanie_wyci_gni_cie26_tool4.solids().sort_by(Axis((-1836.920281, -147.5, 55), (0, 0, 1)))[0])

    # Wytnij-wyciągnięcie20: up to this face of the body (flat: up to its plane)
    wytnij_wyci_gni_cie20_end = Plane(part.part.faces().sort_by_distance((-1876.106863036, -284.989952008, 98.357802599))[0])
    # Szkic44 → Wytnij-wyciągnięcie20 (cut, up to the picked face)
    with BuildSketch(Plane(origin=(0, 0, 55), x_dir=(-1, 0, 0), z_dir=(0, 0, -1)), mode=Mode.PRIVATE) as wytnij_wyci_gni_cie20_sk1:
        with BuildLine():
            Line((2049.849489092, -406.340406152), (2049.849489092, -401.340406152))
            add(Edge.make_bspline(
                [(1623.991072744, -239.355149627), (1855.427484027, -273.909465931), (2049.849489092, -401.340406152)],
                knots=[0, 0, 0, 1, 1, 1], degree=2))
            Line((1623.991072744, -239.355149627), (1623.991072744, -244.355149627))
            add(Edge.make_bspline(
                [(2049.849489092, -406.340406152), (1855.427484027, -278.909465931), (1623.991072744, -244.355149627)],
                knots=[0, 0, 0, 1, 1, 1], degree=2))
        make_face()
    wytnij_wyci_gni_cie20_tool1 = split(extrude(wytnij_wyci_gni_cie20_sk1.sketch, amount=-WYTNIJ_WYCI_GNI_CIE20_REACH, mode=Mode.PRIVATE), bisect_by=wytnij_wyci_gni_cie20_end, keep=Keep.BOTH, mode=Mode.PRIVATE)
    add(wytnij_wyci_gni_cie20_tool1.solids().sort_by(Axis((-2049.392062, -403.840406, 55), (0, 0, 1)))[0], mode=Mode.SUBTRACT)

    # Szkic45 → Dodanie-wyciągnięcie28 (add)
    with BuildSketch(Plane.ZY.offset(2049.849489092)):
        with BuildLine():
            Line((128.23732135, 0), (183.23732135, 0))
            Line((183.23732135, 0), (183.23732135, -460))
            ThreePointArc((183.23732135, -460), (165.663728222, -502.426406871), (123.23732135, -520))
            Line((123.23732135, -520), (55, -520))
            Line((55, -520), (55, -465))
            Line((55, -465), (128.23732135, -465))
            Line((128.23732135, -465), (128.23732135, 0))
        make_face()
    extrude(amount=-DODANIE_WYCI_GNI_CIE28_DEPTH)

    # Szkic47 → Dodanie-wyciągnięcie29 (add)
    with BuildSketch(Plane.XZ.offset(315)):
        with Locations((182.378233613, 60)):
            Rectangle(SZKIC47_W, SZKIC47_H)
    extrude(amount=-DODANIE_WYCI_GNI_CIE29_DEPTH)

    # Szkic48 → Dodanie-wyciągnięcie30 (add)
    with BuildSketch(Plane.XZ.offset(315)):
        Polygon((82.698967418, 125), (431.080423823, 105), (431.080423823, 55), (212.080423823, 55), (82.698967418, 55), align=None)
    extrude(amount=DODANIE_WYCI_GNI_CIE30_DEPTH)

    # Szkic49 → Wytnij-wyciągnięcie21 (cut)
    with BuildSketch(Plane.XZ.offset(320)):
        with BuildLine():
            Line((-29.805838274, 115.353281315), (-93.441590749, 240.975899277))
            Line((-93.441590749, 240.975899277), (363.646365475, 245.253460365))
            Line((363.646365475, 245.253460365), (300.768997598, 112.480962251))
            add(Edge.make_bspline(
                [(-29.805838274, 115.353281315), (135.498032571, 122.219856749), (300.768997598, 112.480962251)],
                knots=[0, 0, 0, 1, 1, 1], degree=2))
        make_face()
    extrude(amount=-WYTNIJ_WYCI_GNI_CIE21_DEPTH, mode=Mode.SUBTRACT)

    # Zaokrąglenie3
    zaokr_glenie3_edges = [part.edges().sort_by_distance(p)[0] for p in [
        (431.080423823, -317.5, 105),
    ]]
    fillet(zaokr_glenie3_edges, radius=ZAOKR_GLENIE3_R)

    # Szkic50 → Wytnij-wyciągnięcie22 (cut)
    with BuildSketch(Plane.XZ.offset(320)):
        with BuildLine():
            Line((-240.172445172, 97.315407599), (-253.233513174, 230.819913371))
            Line((-253.233513174, 230.819913371), (380.265543059, 230.819913371))
            Line((380.265543059, 230.819913371), (357.205892856, 109.241013958))
            add(Edge.make_bspline(
                [(-240.172445172, 97.315407599), (58.727979329, 95.460968942), (357.205892856, 109.241013958)],
                knots=[0, 0, 0, 1, 1, 1], degree=2))
        make_face()
    extrude(amount=-WYTNIJ_WYCI_GNI_CIE22_DEPTH, mode=Mode.SUBTRACT)

    # Szkic53 → Wytnij-wyciągnięcie23 (cut)
    with BuildSketch(Plane(origin=(0, -595, 0), x_dir=(1, 0, 0), z_dir=(0, 1, 0))):
        with BuildLine():
            Line((-1180.731710733, -189.066503083), (-1180.731710733, -195))
            Line((-1180.731710733, -195), (-1175.731710733, -195))
            Line((-1175.731710733, -195), (-1175.731710733, -185.928934683))
            ThreePointArc((-1175.731710733, -185.928934683), (-1178.236624803, -187.489887866), (-1180.731710733, -189.066503083))
        make_face()
    extrude(amount=-WYTNIJ_WYCI_GNI_CIE23_DEPTH, mode=Mode.SUBTRACT)


solid = part.part
